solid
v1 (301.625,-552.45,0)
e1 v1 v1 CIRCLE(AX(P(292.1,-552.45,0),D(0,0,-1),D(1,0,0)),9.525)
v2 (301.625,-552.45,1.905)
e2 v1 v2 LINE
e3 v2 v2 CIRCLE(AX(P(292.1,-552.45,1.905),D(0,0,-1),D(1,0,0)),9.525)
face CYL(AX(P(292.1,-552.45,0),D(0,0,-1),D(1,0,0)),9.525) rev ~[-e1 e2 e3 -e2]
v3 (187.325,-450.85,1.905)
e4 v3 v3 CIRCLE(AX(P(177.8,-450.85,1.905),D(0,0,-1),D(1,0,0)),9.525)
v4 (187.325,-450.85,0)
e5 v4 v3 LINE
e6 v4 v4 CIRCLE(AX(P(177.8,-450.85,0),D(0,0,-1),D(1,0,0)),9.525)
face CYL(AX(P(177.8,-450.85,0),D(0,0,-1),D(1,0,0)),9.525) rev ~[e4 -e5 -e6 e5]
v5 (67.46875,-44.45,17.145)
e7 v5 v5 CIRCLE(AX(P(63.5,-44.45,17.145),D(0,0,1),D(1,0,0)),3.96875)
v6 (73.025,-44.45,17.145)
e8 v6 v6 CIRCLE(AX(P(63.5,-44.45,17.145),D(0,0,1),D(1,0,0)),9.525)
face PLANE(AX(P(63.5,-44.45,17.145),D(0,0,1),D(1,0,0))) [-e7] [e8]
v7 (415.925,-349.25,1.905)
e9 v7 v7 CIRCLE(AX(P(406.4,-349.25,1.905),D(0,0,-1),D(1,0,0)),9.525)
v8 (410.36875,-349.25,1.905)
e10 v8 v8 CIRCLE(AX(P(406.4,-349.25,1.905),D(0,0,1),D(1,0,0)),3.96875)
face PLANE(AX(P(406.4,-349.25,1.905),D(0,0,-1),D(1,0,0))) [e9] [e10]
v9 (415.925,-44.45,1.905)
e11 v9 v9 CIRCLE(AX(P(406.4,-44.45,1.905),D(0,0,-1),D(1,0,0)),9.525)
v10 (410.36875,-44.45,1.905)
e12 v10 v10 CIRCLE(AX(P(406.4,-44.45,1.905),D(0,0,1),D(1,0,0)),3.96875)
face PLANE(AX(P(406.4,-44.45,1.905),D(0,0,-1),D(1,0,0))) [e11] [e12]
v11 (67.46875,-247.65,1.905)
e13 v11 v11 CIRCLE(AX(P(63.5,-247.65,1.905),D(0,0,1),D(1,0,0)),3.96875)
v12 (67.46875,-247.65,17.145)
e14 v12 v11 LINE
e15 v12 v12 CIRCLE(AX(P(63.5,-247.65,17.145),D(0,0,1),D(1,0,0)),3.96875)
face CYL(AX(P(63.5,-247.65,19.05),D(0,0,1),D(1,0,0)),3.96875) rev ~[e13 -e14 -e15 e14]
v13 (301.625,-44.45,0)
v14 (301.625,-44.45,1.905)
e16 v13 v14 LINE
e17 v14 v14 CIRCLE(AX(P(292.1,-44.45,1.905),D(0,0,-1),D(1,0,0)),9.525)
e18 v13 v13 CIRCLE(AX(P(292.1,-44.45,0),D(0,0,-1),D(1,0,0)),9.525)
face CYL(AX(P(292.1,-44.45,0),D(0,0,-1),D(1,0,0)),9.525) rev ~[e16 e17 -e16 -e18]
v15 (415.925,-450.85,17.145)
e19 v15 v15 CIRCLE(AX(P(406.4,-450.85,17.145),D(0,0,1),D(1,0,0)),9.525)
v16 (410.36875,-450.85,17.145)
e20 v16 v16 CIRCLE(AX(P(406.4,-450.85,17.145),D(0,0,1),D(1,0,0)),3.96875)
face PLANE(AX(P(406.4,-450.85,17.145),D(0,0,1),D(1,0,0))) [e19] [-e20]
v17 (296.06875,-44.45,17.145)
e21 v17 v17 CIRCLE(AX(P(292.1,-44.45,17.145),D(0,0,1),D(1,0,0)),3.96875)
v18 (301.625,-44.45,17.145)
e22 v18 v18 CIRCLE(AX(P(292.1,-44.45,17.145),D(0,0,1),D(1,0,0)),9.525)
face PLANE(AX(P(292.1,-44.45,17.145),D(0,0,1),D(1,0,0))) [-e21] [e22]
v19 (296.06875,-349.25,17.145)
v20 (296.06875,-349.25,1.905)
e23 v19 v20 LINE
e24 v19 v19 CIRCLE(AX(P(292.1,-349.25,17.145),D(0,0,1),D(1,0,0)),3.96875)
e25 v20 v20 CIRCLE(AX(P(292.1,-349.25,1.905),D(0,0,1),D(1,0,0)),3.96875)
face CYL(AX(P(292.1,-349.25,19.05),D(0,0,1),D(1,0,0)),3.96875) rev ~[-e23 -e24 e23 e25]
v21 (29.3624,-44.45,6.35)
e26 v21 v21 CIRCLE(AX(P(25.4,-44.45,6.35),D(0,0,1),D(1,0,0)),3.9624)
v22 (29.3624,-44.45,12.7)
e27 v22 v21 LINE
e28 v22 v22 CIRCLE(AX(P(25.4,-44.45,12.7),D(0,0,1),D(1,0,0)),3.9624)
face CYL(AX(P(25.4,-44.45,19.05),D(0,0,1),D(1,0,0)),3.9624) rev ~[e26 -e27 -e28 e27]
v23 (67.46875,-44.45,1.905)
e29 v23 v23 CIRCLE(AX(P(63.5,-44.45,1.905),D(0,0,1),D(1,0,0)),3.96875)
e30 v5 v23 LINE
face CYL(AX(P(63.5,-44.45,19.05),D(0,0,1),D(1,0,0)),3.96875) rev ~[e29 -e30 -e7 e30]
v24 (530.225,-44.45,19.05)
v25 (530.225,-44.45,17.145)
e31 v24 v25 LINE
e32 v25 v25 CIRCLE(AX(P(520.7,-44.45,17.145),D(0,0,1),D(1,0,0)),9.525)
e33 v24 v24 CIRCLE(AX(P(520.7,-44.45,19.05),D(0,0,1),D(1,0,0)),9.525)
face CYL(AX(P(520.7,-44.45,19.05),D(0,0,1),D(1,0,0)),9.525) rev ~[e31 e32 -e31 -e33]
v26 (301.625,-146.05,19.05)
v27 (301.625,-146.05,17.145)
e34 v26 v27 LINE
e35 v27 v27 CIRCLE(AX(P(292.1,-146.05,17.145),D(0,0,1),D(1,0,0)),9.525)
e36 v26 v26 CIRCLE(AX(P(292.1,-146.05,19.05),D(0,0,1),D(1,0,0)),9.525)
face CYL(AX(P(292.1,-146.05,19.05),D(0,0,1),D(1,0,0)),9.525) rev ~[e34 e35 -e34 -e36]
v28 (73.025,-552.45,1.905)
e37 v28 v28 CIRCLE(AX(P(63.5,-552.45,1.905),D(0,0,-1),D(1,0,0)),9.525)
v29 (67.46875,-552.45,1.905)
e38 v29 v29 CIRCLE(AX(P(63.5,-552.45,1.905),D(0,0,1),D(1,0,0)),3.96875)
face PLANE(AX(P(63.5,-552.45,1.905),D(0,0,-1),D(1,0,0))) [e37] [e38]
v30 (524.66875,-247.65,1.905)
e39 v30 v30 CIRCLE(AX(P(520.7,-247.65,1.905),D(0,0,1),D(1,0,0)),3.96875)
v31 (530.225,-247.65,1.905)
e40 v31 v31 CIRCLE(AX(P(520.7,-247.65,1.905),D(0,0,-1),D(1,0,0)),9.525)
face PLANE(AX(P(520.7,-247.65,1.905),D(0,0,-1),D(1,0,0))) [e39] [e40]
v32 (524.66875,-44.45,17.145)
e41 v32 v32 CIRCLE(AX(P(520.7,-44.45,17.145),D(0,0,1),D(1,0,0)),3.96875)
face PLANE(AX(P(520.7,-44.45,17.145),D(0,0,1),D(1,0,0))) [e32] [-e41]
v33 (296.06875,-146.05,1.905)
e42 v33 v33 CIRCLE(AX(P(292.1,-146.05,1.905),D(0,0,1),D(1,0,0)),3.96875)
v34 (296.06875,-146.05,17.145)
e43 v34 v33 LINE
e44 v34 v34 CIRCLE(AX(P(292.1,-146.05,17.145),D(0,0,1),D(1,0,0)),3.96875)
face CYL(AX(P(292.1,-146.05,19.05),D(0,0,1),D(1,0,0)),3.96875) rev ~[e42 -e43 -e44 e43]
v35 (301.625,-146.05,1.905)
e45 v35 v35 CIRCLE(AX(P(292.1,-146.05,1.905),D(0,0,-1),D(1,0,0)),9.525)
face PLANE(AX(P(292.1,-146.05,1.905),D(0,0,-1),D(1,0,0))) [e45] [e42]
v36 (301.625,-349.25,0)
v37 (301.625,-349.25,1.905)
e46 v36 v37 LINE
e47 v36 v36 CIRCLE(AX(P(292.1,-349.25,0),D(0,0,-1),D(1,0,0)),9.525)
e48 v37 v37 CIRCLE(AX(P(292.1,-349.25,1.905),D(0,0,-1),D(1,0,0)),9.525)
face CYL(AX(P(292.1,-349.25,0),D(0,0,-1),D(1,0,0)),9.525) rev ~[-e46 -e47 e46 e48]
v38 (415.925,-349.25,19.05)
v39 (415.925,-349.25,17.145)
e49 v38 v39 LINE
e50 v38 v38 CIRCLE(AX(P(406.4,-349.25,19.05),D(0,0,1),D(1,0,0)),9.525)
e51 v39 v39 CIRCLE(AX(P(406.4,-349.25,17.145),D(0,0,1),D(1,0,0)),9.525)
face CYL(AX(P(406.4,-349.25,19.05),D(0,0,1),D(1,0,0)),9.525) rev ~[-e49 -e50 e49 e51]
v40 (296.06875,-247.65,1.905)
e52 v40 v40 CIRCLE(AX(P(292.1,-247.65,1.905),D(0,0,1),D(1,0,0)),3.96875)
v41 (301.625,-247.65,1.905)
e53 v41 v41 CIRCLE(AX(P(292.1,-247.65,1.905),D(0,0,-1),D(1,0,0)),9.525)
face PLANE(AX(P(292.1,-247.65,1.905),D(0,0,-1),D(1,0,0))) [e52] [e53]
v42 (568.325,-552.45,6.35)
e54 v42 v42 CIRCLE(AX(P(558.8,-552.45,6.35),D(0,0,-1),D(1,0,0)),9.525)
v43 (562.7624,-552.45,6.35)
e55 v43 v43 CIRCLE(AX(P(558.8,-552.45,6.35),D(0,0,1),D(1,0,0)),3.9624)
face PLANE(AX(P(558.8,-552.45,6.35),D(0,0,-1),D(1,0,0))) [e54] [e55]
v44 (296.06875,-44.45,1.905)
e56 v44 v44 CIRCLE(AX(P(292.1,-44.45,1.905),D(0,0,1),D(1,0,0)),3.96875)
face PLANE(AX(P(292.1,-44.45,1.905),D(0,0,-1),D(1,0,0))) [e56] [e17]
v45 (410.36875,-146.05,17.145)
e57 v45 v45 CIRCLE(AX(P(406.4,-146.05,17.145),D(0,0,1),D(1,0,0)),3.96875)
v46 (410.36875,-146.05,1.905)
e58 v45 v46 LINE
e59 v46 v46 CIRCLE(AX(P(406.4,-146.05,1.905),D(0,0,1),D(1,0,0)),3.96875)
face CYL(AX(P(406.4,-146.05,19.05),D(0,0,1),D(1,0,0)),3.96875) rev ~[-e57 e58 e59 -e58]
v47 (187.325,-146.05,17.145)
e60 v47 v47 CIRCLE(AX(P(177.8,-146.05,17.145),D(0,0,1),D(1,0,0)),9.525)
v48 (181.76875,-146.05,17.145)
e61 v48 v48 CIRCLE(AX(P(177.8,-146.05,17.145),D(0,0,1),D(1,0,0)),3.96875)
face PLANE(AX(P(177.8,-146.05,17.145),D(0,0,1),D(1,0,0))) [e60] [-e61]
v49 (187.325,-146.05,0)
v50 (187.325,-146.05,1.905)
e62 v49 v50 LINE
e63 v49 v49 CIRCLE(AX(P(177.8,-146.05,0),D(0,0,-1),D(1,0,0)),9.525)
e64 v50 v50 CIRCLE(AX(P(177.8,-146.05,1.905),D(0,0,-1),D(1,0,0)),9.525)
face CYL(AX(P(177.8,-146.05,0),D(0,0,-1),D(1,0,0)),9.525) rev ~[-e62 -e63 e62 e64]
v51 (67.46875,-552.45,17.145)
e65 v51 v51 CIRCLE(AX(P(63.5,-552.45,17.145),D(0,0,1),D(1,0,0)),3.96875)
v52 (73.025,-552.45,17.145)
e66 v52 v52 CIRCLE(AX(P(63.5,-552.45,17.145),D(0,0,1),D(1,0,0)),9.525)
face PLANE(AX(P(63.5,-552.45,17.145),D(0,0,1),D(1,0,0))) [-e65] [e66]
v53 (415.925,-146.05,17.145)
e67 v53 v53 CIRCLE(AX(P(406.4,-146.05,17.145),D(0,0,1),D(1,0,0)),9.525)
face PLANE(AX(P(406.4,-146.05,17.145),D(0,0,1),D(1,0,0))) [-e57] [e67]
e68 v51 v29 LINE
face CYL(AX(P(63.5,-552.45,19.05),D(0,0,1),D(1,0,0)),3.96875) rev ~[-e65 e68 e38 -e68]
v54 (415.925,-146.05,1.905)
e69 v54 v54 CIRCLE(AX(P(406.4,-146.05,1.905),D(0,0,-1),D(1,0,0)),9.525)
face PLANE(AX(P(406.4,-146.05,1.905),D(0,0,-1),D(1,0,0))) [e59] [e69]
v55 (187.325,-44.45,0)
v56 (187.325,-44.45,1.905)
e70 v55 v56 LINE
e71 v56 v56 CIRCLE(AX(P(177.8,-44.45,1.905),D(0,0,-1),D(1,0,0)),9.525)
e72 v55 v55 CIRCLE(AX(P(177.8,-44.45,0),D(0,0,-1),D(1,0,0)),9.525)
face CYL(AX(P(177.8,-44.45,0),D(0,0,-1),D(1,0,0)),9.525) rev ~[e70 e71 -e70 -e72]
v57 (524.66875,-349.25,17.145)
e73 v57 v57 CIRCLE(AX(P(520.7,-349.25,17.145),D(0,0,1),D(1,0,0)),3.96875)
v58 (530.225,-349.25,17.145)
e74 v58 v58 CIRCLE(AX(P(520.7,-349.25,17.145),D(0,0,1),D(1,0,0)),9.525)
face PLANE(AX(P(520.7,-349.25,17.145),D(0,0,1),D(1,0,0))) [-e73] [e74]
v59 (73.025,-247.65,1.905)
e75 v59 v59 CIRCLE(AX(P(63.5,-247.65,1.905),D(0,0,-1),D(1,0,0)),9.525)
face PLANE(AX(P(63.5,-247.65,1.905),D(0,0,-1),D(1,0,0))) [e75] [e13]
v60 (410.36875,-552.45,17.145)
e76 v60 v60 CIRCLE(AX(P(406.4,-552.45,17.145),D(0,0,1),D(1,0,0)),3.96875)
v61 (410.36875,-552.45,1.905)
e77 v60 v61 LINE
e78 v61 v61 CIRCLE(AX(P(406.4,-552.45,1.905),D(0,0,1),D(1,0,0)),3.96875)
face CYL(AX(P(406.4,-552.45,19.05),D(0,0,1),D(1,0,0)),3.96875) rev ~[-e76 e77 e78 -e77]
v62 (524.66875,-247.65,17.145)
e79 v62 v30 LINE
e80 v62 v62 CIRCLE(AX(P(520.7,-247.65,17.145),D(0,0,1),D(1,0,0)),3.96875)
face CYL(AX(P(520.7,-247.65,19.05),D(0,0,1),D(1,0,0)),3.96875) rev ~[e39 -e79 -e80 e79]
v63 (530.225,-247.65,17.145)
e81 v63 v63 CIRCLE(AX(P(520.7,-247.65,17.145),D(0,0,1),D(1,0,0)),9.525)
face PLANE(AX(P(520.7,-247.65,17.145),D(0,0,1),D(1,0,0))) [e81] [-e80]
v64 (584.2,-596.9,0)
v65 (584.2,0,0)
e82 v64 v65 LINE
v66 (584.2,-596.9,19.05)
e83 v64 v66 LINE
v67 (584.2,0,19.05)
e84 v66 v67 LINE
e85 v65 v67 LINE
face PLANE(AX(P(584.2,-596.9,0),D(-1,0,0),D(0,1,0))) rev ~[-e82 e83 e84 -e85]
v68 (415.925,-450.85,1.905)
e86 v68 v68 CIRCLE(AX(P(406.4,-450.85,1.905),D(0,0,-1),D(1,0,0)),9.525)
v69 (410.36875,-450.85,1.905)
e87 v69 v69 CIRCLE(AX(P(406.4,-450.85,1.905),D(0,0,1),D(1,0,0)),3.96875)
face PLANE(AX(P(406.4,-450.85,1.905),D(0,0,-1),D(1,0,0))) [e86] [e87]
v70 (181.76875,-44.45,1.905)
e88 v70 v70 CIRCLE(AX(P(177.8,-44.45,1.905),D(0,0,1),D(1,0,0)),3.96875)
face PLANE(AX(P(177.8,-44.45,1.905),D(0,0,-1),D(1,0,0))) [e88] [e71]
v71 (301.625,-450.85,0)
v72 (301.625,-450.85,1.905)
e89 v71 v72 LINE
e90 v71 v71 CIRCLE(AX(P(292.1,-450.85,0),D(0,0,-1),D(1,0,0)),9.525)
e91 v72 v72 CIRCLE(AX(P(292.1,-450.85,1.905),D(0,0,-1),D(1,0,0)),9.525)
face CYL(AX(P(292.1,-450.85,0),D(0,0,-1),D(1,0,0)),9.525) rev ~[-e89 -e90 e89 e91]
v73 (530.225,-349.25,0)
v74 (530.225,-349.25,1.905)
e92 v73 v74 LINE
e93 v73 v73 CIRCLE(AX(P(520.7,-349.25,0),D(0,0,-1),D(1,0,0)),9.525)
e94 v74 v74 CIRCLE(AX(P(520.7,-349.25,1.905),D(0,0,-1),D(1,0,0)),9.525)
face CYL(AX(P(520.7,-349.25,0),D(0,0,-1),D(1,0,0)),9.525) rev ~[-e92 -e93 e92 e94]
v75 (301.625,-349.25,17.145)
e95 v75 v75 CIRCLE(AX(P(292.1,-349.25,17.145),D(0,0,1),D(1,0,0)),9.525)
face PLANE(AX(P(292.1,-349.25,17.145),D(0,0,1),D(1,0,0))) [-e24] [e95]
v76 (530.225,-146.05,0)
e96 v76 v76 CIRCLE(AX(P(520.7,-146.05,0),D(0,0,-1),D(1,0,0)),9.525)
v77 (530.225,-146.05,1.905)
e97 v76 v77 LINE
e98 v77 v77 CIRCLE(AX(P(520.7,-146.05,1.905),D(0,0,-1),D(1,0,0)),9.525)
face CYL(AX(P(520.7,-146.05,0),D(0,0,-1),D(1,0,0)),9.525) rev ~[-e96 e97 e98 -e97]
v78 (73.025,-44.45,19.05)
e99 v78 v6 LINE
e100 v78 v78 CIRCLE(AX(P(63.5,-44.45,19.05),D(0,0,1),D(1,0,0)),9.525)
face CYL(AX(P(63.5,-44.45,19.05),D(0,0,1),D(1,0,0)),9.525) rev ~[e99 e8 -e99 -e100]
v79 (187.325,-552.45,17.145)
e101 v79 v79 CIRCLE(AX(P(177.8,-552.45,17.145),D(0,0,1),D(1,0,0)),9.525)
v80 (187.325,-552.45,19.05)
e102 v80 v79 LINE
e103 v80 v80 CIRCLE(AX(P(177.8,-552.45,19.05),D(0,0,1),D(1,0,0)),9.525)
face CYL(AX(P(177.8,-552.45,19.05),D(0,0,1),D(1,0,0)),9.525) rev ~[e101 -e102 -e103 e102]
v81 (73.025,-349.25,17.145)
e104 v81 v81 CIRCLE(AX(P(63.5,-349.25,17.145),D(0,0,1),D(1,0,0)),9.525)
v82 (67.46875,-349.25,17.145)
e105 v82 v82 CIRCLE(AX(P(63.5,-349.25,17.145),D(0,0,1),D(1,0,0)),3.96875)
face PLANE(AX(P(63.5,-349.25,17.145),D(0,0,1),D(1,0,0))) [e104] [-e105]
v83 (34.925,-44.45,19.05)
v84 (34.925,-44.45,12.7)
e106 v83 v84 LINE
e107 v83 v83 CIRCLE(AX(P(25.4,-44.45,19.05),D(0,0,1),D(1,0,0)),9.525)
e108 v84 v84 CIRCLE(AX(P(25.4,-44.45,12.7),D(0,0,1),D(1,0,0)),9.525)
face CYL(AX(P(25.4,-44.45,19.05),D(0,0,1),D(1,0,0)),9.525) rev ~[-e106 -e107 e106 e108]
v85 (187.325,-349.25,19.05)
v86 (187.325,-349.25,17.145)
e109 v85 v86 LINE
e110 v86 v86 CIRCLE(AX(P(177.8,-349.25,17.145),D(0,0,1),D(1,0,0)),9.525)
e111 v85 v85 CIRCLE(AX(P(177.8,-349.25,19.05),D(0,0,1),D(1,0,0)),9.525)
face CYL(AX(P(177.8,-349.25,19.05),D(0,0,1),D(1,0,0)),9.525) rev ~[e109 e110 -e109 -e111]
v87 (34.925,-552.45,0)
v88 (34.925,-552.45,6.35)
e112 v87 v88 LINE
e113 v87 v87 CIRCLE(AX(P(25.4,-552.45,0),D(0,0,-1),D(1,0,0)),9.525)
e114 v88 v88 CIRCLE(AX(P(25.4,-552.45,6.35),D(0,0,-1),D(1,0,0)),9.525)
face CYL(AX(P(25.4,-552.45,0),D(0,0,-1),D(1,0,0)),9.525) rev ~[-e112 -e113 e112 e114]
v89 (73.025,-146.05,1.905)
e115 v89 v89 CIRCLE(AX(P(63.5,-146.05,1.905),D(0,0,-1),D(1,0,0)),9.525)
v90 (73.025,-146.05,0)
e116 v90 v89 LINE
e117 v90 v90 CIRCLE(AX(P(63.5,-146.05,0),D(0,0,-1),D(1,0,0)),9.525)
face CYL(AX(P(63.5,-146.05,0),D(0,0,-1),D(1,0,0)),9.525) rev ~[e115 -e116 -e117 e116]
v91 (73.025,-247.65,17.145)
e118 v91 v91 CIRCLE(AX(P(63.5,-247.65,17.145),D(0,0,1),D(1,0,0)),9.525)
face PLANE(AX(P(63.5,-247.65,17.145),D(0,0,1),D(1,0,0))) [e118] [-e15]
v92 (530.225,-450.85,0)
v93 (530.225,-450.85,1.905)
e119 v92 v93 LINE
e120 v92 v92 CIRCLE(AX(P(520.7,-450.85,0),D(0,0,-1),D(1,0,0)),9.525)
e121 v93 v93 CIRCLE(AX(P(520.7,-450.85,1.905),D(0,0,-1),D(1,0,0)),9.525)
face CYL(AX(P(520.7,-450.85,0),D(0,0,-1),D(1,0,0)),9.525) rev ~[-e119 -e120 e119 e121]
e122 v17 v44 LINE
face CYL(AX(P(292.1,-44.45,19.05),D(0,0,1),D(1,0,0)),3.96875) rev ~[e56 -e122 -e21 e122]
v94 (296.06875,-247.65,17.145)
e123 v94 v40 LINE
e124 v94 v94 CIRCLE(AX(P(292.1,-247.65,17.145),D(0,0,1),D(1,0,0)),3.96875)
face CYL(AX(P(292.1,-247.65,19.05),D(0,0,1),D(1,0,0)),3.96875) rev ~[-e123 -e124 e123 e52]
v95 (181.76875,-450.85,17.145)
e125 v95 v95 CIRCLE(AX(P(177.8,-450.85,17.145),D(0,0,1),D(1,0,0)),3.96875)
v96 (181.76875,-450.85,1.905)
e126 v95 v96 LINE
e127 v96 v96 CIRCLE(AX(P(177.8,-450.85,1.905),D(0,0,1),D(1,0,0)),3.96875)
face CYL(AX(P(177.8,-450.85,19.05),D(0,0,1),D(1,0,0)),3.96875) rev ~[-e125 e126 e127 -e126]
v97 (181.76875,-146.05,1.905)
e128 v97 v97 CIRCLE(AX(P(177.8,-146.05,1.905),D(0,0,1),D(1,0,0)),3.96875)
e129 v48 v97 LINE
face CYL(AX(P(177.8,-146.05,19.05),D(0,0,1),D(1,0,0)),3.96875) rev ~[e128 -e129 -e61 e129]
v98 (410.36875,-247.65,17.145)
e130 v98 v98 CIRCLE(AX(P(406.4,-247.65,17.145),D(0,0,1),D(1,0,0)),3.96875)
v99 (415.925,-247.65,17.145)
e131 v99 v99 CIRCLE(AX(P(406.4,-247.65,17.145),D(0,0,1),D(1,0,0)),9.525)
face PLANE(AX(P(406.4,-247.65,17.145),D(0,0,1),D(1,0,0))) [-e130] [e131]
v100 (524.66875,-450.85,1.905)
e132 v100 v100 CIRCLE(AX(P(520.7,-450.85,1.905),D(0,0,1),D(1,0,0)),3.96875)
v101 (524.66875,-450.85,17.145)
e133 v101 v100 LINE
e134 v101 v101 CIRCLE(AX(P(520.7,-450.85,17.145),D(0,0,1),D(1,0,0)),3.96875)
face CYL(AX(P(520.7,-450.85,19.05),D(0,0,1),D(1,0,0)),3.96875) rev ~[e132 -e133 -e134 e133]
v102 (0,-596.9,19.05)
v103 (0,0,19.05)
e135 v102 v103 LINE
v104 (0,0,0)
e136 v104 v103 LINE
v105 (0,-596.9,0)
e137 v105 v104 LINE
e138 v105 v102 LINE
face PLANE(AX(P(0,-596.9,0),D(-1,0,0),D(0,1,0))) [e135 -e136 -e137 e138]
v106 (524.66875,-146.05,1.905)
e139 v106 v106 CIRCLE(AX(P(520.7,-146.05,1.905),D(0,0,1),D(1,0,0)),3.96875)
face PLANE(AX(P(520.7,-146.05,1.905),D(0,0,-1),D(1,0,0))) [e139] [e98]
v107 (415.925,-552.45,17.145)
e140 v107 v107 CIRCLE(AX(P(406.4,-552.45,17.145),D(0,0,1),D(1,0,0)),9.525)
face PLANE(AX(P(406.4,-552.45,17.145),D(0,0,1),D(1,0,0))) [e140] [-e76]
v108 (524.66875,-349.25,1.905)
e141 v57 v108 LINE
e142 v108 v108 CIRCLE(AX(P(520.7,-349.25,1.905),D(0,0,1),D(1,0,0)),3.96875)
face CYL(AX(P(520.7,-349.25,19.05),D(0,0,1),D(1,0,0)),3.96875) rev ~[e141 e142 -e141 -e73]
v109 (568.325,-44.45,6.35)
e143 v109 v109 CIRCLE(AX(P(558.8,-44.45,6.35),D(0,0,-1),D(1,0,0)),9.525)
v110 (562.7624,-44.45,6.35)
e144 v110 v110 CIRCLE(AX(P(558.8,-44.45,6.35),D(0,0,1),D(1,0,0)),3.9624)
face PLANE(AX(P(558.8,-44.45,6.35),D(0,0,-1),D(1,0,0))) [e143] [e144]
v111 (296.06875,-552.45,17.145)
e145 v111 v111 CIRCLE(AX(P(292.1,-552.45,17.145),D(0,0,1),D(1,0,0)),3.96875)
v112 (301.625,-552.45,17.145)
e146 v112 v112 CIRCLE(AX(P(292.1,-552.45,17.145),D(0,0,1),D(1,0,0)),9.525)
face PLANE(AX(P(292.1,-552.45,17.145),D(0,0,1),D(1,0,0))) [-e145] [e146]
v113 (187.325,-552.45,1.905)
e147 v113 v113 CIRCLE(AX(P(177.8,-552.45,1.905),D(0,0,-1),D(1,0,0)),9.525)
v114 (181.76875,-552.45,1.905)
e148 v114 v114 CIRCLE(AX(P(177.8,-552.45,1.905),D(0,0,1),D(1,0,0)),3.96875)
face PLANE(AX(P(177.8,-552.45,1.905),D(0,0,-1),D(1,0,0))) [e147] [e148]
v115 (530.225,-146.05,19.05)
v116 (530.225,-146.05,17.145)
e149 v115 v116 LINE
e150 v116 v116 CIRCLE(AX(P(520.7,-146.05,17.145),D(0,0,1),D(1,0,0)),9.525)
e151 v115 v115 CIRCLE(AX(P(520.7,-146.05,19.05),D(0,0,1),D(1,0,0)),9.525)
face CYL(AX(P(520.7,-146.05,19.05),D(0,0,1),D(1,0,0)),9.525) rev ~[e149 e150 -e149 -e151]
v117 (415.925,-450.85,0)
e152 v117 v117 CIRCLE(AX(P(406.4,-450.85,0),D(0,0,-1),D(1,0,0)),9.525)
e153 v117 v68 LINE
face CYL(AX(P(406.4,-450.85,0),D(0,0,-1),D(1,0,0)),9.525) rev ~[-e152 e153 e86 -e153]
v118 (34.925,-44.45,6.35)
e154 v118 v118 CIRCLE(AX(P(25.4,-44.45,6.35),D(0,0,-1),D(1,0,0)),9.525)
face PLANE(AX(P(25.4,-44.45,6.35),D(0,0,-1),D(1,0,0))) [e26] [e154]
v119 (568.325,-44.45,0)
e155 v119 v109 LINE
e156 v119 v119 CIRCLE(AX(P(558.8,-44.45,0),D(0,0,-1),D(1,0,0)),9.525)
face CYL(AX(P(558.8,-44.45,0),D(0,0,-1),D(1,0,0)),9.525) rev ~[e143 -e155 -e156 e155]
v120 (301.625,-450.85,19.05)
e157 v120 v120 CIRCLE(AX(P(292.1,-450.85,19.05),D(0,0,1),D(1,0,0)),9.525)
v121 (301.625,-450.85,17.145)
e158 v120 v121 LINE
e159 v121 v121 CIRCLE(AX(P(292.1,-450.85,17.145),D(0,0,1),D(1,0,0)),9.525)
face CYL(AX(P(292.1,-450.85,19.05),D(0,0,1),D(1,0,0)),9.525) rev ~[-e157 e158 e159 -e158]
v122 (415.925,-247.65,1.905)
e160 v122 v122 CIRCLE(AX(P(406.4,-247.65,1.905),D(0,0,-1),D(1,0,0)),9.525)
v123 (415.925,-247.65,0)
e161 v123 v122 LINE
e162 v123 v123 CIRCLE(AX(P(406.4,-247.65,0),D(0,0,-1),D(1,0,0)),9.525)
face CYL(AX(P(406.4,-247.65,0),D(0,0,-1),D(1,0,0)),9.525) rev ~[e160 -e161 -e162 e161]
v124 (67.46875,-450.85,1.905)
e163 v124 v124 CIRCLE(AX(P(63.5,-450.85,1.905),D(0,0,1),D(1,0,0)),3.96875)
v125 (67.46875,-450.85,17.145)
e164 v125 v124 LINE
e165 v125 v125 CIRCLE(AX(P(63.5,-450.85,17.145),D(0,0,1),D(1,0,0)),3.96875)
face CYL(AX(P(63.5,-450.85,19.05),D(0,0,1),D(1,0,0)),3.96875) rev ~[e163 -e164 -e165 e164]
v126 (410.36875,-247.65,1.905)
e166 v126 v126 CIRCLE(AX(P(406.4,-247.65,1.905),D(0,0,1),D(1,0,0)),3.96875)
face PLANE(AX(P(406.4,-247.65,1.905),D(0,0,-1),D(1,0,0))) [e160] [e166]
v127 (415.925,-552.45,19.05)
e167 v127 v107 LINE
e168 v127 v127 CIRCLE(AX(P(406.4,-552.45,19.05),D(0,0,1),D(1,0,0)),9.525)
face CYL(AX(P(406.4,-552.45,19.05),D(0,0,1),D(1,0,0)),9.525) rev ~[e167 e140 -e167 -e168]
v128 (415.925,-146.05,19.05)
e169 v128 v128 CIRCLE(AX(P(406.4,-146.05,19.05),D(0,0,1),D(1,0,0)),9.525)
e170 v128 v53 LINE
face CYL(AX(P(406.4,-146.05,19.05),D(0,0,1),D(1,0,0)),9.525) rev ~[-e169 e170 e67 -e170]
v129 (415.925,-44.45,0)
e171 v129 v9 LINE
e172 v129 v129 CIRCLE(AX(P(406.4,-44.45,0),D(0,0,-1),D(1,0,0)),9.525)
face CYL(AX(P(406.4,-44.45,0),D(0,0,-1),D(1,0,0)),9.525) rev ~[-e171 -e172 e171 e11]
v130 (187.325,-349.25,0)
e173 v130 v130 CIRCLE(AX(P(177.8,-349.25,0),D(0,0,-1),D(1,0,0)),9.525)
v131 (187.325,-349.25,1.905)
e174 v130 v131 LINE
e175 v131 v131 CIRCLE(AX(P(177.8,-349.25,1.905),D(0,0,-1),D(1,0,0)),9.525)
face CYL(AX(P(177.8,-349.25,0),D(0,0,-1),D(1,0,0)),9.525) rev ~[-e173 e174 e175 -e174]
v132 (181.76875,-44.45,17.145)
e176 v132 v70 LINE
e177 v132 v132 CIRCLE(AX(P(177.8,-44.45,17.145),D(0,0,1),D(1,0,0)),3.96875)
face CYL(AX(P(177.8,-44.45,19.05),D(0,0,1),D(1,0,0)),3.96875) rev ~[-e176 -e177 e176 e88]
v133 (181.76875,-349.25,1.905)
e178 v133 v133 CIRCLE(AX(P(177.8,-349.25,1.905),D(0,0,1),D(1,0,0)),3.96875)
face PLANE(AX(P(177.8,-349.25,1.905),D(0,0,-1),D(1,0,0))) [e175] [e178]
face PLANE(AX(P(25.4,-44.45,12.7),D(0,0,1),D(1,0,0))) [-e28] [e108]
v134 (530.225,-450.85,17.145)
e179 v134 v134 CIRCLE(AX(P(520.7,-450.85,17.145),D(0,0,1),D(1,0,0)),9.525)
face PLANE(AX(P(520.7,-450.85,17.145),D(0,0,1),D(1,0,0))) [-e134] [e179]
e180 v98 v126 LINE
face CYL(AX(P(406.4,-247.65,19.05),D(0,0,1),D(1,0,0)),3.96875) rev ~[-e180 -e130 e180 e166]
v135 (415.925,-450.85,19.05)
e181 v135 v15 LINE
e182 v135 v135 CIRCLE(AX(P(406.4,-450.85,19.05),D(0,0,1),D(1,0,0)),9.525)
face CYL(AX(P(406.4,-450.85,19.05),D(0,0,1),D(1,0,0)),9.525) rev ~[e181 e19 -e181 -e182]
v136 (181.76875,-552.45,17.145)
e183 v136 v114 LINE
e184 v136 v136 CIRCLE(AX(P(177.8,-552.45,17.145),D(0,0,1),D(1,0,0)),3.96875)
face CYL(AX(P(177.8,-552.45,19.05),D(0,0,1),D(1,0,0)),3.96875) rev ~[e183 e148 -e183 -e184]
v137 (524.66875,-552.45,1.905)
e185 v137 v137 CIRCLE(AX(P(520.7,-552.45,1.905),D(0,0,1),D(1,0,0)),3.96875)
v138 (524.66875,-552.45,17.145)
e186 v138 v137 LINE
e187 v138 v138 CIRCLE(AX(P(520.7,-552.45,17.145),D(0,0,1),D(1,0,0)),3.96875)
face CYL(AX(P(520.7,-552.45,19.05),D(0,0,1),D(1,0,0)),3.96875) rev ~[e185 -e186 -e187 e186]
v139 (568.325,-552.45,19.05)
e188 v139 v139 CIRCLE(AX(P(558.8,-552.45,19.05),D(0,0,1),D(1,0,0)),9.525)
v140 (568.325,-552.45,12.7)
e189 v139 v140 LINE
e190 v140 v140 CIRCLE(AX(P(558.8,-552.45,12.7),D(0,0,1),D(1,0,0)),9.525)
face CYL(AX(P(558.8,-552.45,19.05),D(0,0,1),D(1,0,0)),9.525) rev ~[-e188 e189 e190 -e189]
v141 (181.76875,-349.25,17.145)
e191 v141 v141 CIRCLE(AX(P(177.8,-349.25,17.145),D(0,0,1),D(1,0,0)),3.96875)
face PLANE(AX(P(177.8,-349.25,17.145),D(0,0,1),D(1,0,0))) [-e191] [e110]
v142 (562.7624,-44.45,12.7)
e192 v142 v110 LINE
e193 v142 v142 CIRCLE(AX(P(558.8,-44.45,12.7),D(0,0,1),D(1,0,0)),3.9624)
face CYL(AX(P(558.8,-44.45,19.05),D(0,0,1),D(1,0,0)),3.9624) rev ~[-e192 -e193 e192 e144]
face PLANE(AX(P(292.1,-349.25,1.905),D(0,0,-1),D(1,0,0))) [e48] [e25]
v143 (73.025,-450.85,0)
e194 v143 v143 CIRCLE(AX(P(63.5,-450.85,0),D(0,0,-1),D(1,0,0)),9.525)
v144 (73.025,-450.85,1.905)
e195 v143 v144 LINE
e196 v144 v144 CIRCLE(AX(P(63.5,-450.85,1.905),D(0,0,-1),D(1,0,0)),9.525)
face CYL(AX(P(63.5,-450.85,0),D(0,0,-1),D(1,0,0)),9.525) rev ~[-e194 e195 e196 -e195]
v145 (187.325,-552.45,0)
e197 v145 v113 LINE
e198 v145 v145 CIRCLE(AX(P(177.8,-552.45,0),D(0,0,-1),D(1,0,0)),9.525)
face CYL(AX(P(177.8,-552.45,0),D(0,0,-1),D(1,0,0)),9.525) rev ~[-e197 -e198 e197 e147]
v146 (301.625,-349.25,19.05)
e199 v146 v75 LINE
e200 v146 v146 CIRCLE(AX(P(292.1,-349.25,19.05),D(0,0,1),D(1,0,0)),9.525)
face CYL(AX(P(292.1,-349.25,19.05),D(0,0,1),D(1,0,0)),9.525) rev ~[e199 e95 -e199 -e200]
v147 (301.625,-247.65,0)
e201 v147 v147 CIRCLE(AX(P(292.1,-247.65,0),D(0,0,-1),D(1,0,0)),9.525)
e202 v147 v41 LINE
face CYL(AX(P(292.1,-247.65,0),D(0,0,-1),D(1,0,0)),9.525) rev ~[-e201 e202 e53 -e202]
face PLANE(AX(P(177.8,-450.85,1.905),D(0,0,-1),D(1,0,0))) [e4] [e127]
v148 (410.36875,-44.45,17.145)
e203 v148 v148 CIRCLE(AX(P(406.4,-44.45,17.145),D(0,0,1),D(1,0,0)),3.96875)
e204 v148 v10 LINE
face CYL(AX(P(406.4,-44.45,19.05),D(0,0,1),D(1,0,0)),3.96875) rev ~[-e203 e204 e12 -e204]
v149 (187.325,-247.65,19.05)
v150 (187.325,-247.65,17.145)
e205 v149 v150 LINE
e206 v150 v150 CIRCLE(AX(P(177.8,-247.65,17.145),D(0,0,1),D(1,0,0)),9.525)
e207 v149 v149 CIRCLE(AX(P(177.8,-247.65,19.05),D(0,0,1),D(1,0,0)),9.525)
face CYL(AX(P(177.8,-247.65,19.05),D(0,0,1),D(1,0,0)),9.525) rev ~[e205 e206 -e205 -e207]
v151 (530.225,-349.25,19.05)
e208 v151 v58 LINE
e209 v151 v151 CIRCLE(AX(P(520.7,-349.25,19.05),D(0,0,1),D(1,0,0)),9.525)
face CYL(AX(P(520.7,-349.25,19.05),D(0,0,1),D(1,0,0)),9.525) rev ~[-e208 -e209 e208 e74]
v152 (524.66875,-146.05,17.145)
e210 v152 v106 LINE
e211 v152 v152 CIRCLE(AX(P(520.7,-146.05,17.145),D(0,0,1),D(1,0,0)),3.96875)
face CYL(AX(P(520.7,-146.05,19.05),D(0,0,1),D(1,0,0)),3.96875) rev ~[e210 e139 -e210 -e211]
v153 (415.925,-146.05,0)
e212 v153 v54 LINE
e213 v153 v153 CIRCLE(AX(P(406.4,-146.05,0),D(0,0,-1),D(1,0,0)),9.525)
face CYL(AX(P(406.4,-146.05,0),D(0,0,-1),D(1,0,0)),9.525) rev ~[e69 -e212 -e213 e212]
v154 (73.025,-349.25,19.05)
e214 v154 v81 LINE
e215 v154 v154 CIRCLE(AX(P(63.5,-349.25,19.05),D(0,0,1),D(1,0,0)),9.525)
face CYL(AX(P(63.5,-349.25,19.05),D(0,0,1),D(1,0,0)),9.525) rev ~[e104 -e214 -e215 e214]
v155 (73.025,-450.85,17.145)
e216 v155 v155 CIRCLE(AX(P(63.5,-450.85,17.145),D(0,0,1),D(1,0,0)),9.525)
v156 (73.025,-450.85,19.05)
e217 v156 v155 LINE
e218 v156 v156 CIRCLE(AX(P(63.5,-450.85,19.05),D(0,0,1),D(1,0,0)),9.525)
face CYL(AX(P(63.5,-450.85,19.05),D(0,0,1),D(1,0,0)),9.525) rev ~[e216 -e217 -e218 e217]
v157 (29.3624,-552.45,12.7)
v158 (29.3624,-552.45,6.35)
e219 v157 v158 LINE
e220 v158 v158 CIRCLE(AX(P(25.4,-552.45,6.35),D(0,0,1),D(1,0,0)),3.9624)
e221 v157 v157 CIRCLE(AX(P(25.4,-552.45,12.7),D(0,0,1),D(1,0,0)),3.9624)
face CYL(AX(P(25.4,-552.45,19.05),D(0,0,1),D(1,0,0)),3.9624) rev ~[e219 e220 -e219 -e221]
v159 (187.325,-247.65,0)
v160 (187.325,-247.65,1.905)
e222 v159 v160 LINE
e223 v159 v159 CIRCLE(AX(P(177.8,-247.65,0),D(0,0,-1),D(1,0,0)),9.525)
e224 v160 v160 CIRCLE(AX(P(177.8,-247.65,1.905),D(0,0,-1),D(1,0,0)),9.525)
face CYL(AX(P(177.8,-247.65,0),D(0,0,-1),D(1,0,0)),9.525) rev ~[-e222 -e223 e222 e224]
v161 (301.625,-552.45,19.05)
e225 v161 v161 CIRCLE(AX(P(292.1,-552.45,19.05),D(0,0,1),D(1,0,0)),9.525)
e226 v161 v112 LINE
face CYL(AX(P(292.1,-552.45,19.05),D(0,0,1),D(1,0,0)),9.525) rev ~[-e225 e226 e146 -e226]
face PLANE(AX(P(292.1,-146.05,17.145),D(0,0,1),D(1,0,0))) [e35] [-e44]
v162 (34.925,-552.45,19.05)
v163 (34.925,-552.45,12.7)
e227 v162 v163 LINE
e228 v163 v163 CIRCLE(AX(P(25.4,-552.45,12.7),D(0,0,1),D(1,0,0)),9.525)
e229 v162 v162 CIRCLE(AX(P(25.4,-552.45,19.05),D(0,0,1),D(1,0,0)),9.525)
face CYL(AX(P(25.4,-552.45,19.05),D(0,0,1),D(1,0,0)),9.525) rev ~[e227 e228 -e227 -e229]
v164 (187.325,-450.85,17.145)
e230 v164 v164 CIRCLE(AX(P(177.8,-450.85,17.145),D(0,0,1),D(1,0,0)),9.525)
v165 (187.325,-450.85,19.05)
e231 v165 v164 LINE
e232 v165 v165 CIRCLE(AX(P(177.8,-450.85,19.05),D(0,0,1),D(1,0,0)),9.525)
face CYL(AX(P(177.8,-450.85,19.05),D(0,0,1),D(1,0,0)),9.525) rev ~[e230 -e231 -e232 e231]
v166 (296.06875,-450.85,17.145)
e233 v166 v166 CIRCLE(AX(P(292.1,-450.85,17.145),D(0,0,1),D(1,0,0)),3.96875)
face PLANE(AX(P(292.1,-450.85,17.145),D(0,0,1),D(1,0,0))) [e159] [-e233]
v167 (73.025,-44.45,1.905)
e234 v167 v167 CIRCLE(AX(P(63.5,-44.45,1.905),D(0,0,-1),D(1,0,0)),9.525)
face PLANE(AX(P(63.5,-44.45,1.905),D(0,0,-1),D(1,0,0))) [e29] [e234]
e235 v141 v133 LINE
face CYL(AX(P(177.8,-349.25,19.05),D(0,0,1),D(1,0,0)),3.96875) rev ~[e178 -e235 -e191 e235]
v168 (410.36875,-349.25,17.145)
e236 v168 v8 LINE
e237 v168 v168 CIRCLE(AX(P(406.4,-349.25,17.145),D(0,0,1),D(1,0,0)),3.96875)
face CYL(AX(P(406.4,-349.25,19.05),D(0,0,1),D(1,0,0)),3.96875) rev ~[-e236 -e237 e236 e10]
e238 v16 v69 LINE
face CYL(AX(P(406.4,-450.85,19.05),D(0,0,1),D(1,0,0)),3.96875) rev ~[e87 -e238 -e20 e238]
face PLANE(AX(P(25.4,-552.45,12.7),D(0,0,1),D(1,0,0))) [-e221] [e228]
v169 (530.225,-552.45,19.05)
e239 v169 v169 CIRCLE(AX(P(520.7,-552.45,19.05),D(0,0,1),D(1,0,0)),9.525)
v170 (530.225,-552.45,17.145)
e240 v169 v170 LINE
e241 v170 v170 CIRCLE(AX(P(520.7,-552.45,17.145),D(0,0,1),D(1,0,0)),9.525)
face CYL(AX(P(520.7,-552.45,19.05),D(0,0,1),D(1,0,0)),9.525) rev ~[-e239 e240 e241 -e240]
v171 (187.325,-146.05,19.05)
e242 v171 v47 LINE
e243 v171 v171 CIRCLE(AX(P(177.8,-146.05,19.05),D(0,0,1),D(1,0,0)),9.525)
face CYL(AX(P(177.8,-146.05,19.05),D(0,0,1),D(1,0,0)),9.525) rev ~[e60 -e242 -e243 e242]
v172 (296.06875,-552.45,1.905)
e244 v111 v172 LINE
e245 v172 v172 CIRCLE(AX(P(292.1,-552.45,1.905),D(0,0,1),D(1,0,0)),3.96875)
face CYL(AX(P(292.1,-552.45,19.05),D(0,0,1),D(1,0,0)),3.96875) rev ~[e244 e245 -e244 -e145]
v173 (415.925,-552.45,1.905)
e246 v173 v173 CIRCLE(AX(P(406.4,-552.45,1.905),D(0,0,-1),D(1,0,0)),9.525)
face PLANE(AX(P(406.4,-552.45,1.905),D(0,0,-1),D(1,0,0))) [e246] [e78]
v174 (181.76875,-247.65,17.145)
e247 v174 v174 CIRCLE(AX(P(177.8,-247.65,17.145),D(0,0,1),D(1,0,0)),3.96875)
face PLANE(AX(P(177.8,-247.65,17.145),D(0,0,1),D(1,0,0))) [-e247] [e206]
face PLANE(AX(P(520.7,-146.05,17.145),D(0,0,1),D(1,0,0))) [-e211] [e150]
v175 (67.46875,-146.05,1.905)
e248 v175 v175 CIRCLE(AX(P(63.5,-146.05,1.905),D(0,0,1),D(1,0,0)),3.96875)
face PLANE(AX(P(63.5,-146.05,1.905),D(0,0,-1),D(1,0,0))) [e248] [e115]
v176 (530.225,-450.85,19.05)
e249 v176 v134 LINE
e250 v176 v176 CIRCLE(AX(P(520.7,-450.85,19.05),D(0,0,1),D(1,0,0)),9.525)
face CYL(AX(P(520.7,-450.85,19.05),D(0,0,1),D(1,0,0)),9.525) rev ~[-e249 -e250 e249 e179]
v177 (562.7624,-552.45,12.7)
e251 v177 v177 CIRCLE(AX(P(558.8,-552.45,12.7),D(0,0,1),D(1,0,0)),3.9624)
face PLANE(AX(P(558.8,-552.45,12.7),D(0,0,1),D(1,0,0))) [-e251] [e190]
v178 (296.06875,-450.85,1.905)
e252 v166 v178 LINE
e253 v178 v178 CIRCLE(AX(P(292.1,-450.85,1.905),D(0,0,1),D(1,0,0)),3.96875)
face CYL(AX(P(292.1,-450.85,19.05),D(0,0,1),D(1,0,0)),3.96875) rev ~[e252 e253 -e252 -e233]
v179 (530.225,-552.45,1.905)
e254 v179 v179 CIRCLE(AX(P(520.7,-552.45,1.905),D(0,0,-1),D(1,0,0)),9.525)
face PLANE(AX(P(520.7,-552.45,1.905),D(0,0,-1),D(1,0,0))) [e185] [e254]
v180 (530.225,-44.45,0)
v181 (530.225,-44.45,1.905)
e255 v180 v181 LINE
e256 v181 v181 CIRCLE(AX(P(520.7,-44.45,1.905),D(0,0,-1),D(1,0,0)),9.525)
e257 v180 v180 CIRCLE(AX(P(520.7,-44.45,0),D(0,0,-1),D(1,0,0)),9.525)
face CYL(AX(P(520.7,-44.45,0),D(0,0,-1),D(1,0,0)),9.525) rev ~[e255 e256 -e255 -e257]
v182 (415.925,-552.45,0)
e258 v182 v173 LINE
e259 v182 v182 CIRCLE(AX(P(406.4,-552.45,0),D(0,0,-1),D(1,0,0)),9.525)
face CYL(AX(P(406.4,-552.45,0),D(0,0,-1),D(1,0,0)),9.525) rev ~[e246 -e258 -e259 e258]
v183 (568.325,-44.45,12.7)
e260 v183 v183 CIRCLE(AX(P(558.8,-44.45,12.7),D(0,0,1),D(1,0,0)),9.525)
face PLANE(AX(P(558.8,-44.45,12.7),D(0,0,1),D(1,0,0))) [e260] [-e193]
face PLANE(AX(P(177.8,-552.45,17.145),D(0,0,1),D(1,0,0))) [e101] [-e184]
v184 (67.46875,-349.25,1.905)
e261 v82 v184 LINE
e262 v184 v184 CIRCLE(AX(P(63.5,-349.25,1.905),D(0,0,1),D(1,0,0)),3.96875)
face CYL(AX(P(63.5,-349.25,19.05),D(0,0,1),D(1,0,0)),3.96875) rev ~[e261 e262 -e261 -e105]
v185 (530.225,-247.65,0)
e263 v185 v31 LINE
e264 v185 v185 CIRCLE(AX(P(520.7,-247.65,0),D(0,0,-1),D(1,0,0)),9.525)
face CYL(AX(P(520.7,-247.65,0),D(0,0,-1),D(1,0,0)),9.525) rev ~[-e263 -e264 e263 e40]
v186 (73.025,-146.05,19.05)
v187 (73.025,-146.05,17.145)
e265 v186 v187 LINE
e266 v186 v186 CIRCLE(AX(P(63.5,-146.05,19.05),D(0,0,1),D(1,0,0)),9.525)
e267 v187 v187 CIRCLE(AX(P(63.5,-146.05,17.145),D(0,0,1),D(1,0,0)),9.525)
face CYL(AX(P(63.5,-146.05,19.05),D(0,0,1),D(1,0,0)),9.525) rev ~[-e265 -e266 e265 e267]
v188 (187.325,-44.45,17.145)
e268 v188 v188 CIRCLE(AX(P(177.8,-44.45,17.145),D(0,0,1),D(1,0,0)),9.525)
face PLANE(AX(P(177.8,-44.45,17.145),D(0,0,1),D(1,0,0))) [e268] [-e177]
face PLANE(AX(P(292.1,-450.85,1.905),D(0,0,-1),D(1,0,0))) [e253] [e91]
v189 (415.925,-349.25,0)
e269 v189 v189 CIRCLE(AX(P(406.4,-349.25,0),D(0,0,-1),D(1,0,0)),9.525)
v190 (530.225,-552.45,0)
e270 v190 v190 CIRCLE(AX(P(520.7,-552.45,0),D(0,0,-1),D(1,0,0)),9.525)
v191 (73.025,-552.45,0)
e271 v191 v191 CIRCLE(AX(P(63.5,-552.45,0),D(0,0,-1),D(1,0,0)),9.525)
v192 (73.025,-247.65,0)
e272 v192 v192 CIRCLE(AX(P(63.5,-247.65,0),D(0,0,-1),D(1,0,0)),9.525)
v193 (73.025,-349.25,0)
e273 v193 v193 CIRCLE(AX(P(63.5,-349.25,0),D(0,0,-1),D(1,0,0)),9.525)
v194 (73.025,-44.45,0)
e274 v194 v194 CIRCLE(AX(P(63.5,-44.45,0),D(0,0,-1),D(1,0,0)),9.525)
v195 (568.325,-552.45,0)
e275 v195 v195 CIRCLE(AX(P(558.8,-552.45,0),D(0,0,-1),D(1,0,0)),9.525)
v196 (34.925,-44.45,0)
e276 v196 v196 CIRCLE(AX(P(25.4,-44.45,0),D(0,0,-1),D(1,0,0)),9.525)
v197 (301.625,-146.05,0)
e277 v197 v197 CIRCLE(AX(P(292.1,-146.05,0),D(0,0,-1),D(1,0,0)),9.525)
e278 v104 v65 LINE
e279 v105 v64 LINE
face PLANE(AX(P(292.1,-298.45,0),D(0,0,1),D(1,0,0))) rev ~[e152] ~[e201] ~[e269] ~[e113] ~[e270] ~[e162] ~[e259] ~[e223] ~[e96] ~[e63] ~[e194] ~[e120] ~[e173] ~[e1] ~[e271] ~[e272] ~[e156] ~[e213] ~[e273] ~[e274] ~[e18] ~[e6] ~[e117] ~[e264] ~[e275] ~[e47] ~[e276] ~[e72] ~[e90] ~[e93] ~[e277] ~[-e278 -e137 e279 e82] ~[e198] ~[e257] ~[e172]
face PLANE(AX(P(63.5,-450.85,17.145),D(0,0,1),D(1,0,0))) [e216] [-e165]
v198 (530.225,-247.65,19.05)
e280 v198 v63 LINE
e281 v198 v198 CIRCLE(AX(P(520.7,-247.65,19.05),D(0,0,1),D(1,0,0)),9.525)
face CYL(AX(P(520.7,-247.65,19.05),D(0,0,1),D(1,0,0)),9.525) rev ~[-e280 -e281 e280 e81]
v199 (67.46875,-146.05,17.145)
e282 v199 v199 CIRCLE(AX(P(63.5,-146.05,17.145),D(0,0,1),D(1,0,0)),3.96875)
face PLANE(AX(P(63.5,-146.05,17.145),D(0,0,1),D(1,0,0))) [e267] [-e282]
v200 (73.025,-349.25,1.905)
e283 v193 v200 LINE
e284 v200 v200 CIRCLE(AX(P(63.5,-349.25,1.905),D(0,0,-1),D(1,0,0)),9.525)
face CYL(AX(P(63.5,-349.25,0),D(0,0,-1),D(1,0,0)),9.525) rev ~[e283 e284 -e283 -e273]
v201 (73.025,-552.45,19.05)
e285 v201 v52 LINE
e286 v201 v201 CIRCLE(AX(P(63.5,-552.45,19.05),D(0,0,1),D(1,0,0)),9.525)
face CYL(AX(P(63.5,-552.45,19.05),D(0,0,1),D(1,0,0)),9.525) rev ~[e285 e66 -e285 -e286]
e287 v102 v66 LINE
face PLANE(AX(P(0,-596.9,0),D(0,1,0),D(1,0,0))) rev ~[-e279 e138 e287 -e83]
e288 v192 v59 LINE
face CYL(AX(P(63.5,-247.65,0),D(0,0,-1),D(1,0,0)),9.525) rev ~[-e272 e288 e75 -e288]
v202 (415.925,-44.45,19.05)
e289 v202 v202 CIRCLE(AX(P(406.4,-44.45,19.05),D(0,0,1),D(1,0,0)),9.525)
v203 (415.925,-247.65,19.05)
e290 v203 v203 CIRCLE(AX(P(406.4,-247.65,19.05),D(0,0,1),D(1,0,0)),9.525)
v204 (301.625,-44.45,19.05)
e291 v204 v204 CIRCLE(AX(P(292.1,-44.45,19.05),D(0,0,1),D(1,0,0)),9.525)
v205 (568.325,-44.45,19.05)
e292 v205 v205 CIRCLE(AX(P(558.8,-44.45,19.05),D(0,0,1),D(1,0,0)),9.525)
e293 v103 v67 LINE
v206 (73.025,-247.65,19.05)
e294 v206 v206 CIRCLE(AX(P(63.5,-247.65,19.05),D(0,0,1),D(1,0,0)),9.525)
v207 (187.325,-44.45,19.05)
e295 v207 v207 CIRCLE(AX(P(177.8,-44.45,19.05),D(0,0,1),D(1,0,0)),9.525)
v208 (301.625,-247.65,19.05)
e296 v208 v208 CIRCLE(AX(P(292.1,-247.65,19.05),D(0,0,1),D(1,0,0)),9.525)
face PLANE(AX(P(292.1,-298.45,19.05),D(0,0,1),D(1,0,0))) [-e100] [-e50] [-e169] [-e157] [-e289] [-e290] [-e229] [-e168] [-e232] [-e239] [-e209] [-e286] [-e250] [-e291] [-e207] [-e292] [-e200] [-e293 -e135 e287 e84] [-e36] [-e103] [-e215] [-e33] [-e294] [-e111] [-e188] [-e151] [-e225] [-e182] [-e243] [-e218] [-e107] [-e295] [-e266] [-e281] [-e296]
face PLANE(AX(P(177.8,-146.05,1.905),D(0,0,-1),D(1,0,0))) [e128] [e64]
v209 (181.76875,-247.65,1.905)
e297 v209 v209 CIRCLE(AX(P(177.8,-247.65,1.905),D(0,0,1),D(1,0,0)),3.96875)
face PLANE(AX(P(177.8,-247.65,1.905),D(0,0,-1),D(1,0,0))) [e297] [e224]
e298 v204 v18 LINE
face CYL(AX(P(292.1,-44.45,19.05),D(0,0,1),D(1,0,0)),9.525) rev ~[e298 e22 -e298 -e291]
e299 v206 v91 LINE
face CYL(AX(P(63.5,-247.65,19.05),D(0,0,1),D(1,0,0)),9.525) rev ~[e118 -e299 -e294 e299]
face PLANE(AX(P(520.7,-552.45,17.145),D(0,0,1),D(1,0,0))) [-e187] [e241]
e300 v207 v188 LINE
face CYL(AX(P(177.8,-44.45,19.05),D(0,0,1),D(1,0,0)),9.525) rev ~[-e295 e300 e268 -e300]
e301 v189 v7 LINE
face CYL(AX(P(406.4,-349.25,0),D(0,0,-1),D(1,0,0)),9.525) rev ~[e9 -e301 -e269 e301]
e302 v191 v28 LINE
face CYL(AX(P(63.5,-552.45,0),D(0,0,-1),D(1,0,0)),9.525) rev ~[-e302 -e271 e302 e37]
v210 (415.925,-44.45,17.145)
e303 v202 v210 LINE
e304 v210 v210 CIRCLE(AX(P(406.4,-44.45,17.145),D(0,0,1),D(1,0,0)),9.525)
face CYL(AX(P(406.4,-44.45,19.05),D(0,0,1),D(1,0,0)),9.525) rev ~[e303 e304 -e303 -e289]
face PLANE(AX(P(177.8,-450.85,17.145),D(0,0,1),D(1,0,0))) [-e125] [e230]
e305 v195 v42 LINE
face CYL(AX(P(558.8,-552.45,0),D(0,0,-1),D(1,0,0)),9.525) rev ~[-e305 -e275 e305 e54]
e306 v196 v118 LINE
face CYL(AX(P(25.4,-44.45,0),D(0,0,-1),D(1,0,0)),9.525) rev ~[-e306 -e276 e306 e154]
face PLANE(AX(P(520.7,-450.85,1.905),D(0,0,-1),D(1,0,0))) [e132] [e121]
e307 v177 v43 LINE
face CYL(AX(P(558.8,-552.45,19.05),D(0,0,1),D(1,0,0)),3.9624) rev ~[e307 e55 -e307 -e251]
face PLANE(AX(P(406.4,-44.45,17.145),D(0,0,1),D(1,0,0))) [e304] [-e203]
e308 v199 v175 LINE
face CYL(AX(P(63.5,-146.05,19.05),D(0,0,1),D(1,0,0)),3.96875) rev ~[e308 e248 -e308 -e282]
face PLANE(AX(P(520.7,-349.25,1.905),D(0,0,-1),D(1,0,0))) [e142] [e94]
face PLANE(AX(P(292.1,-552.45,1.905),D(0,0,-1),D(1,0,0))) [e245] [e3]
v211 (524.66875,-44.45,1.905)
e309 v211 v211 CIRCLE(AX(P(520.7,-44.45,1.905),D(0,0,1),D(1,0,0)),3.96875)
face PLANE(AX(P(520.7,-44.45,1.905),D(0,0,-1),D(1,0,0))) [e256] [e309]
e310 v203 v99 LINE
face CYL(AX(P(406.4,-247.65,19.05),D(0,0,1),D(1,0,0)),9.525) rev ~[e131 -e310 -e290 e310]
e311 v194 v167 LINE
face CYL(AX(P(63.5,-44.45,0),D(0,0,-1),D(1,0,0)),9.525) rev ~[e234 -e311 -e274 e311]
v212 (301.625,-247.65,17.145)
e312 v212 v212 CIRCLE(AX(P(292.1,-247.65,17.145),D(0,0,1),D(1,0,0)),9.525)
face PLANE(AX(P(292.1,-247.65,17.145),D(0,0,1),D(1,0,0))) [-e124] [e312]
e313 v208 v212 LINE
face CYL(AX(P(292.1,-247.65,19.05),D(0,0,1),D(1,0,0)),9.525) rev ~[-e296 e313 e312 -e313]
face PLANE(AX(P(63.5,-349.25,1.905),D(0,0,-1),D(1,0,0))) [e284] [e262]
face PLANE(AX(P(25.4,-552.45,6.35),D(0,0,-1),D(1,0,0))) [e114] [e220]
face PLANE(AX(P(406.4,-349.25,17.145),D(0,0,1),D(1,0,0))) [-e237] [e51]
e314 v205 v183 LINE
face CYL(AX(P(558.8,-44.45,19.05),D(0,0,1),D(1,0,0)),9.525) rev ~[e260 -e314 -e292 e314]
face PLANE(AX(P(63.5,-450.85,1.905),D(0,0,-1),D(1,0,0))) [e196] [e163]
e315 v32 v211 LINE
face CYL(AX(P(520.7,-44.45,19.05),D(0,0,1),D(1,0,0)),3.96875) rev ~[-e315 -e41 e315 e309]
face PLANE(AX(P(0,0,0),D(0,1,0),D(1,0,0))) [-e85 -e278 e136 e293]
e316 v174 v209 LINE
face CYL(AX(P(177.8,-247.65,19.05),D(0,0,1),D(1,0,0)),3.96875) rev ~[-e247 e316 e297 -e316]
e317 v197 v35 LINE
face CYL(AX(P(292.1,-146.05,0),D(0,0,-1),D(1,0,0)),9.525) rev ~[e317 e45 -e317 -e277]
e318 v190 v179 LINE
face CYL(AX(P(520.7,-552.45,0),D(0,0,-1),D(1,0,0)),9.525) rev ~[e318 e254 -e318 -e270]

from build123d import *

# Parameters (mm, degrees)
F0_W      = 584.2
F0_H      = 596.9
F1_DEPTH  = 19.05
F2_R      = 9.525
F3_DEPTH  = 6.35
F4_R      = 3.9624
F5_DEPTH  = 19.051
F6_R      = 9.525
F7_DEPTH  = 6.35
F8_R      = 9.525
F9_DEPTH  = 1.905
F10_R     = 3.96875
F11_DEPTH = 19.051
F12_R     = 9.525
F13_DEPTH = 1.905


with BuildPart() as f1:
    # F0 (on Top) → F1 (new body)
    with BuildSketch(Plane.XY):
        with Locations((292.1, -298.45)):
            Rectangle(F0_W, F0_H)
    extrude(amount=F1_DEPTH)

    # F2 (on face) → F3 (cut)
    with BuildSketch(Plane.XY.offset(19.05)):
        with Locations((25.4, -552.45)):
            Circle(F2_R)
        with Locations((25.4, -44.45)):
            Circle(F2_R)
        with Locations((558.8, -552.45)):
            Circle(F2_R)
        with Locations((558.8, -44.45)):
            Circle(F2_R)
    extrude(amount=-F3_DEPTH, mode=Mode.SUBTRACT)

    # F4 (on face) → F5 (cut, through all)
    with BuildSketch(Plane.XY.offset(19.05)):
        with Locations((25.4, -552.45)):
            Circle(F4_R)
        with Locations((25.4, -44.45)):
            Circle(F4_R)
        with Locations((558.8, -552.45)):
            Circle(F4_R)
        with Locations((558.8, -44.45)):
            Circle(F4_R)
    extrude(amount=-F5_DEPTH, mode=Mode.SUBTRACT)

    # F6 (on face) → F7 (cut)
    with BuildSketch(Plane(origin=(0, 0, 0), x_dir=(1, 0, 0), z_dir=(0, 0, -1))):
        with Locations((25.4, 44.45)):
            Circle(F6_R)
        with Locations((25.4, 552.45)):
            Circle(F6_R)
        with Locations((558.8, 44.45)):
            Circle(F6_R)
        with Locations((558.8, 552.45)):
            Circle(F6_R)
    extrude(amount=-F7_DEPTH, mode=Mode.SUBTRACT)

    # F8 (on face) → F9 (cut)
    with BuildSketch(Plane.XY.offset(19.05)):
        with Locations((63.5, -552.45)):
            Circle(F8_R)
        with Locations((63.5, -450.85)):
            Circle(F8_R)
        with Locations((63.5, -349.25)):
            Circle(F8_R)
        with Locations((63.5, -247.65)):
            Circle(F8_R)
        with Locations((63.5, -146.05)):
            Circle(F8_R)
        with Locations((63.5, -44.45)):
            Circle(F8_R)
        with Locations((177.8, -552.45)):
            Circle(F8_R)
        with Locations((177.8, -450.85)):
            Circle(F8_R)
        with Locations((177.8, -349.25)):
            Circle(F8_R)
        with Locations((177.8, -247.65)):
            Circle(F8_R)
        with Locations((177.8, -146.05)):
            Circle(F8_R)
        with Locations((177.8, -44.45)):
            Circle(F8_R)
        with Locations((292.1, -552.45)):
            Circle(F8_R)
        with Locations((292.1, -450.85)):
            Circle(F8_R)
        with Locations((292.1, -349.25)):
            Circle(F8_R)
        with Locations((292.1, -247.65)):
            Circle(F8_R)
        with Locations((292.1, -146.05)):
            Circle(F8_R)
        with Locations((292.1, -44.45)):
            Circle(F8_R)
        with Locations((406.4, -552.45)):
            Circle(F8_R)
        with Locations((406.4, -450.85)):
            Circle(F8_R)
        with Locations((406.4, -349.25)):
            Circle(F8_R)
        with Locations((406.4, -247.65)):
            Circle(F8_R)
        with Locations((406.4, -146.05)):
            Circle(F8_R)
        with Locations((406.4, -44.45)):
            Circle(F8_R)
        with Locations((520.7, -552.45)):
            Circle(F8_R)
        with Locations((520.7, -450.85)):
            Circle(F8_R)
        with Locations((520.7, -349.25)):
            Circle(F8_R)
        with Locations((520.7, -247.65)):
            Circle(F8_R)
        with Locations((520.7, -146.05)):
            Circle(F8_R)
        with Locations((520.7, -44.45)):
            Circle(F8_R)
    extrude(amount=-F9_DEPTH, mode=Mode.SUBTRACT)

    # F10 (on face) → F11 (cut, through all)
    with BuildSketch(Plane.XY.offset(19.05)):
        with Locations((63.5, -552.45)):
            Circle(F10_R)
        with Locations((63.5, -450.85)):
            Circle(F10_R)
        with Locations((63.5, -349.25)):
            Circle(F10_R)
        with Locations((63.5, -247.65)):
            Circle(F10_R)
        with Locations((63.5, -146.05)):
            Circle(F10_R)
        with Locations((63.5, -44.45)):
            Circle(F10_R)
        with Locations((177.8, -552.45)):
            Circle(F10_R)
        with Locations((177.8, -450.85)):
            Circle(F10_R)
        with Locations((177.8, -349.25)):
            Circle(F10_R)
        with Locations((177.8, -247.65)):
            Circle(F10_R)
        with Locations((177.8, -146.05)):
            Circle(F10_R)
        with Locations((177.8, -44.45)):
            Circle(F10_R)
        with Locations((292.1, -552.45)):
            Circle(F10_R)
        with Locations((292.1, -450.85)):
            Circle(F10_R)
        with Locations((292.1, -349.25)):
            Circle(F10_R)
        with Locations((292.1, -247.65)):
            Circle(F10_R)
        with Locations((292.1, -146.05)):
            Circle(F10_R)
        with Locations((292.1, -44.45)):
            Circle(F10_R)
        with Locations((406.4, -552.45)):
            Circle(F10_R)
        with Locations((406.4, -450.85)):
            Circle(F10_R)
        with Locations((406.4, -349.25)):
            Circle(F10_R)
        with Locations((406.4, -247.65)):
            Circle(F10_R)
        with Locations((406.4, -146.05)):
            Circle(F10_R)
        with Locations((406.4, -44.45)):
            Circle(F10_R)
        with Locations((520.7, -552.45)):
            Circle(F10_R)
        with Locations((520.7, -450.85)):
            Circle(F10_R)
        with Locations((520.7, -349.25)):
            Circle(F10_R)
        with Locations((520.7, -247.65)):
            Circle(F10_R)
        with Locations((520.7, -146.05)):
            Circle(F10_R)
        with Locations((520.7, -44.45)):
            Circle(F10_R)
    extrude(amount=-F11_DEPTH, mode=Mode.SUBTRACT)

    # F12 (on face) → F13 (cut)
    with BuildSketch(Plane(origin=(0, 0, 0), x_dir=(1, 0, 0), z_dir=(0, 0, -1))):
        with Locations((63.5, 552.45)):
            Circle(F12_R)
        with Locations((63.5, 450.85)):
            Circle(F12_R)
        with Locations((63.5, 349.25)):
            Circle(F12_R)
        with Locations((63.5, 247.65)):
            Circle(F12_R)
        with Locations((63.5, 146.05)):
            Circle(F12_R)
        with Locations((63.5, 44.45)):
            Circle(F12_R)
        with Locations((177.8, 552.45)):
            Circle(F12_R)
        with Locations((177.8, 450.85)):
            Circle(F12_R)
        with Locations((177.8, 349.25)):
            Circle(F12_R)
        with Locations((177.8, 247.65)):
            Circle(F12_R)
        with Locations((177.8, 146.05)):
            Circle(F12_R)
        with Locations((177.8, 44.45)):
            Circle(F12_R)
        with Locations((292.1, 552.45)):
            Circle(F12_R)
        with Locations((292.1, 450.85)):
            Circle(F12_R)
        with Locations((292.1, 349.25)):
            Circle(F12_R)
        with Locations((292.1, 247.65)):
            Circle(F12_R)
        with Locations((292.1, 146.05)):
            Circle(F12_R)
        with Locations((292.1, 44.45)):
            Circle(F12_R)
        with Locations((406.4, 552.45)):
            Circle(F12_R)
        with Locations((406.4, 450.85)):
            Circle(F12_R)
        with Locations((406.4, 349.25)):
            Circle(F12_R)
        with Locations((406.4, 247.65)):
            Circle(F12_R)
        with Locations((406.4, 146.05)):
            Circle(F12_R)
        with Locations((406.4, 44.45)):
            Circle(F12_R)
        with Locations((520.7, 552.45)):
            Circle(F12_R)
        with Locations((520.7, 450.85)):
            Circle(F12_R)
        with Locations((520.7, 349.25)):
            Circle(F12_R)
        with Locations((520.7, 247.65)):
            Circle(F12_R)
        with Locations((520.7, 146.05)):
            Circle(F12_R)
        with Locations((520.7, 44.45)):
            Circle(F12_R)
    extrude(amount=-F13_DEPTH, mode=Mode.SUBTRACT)


solid = f1.part
